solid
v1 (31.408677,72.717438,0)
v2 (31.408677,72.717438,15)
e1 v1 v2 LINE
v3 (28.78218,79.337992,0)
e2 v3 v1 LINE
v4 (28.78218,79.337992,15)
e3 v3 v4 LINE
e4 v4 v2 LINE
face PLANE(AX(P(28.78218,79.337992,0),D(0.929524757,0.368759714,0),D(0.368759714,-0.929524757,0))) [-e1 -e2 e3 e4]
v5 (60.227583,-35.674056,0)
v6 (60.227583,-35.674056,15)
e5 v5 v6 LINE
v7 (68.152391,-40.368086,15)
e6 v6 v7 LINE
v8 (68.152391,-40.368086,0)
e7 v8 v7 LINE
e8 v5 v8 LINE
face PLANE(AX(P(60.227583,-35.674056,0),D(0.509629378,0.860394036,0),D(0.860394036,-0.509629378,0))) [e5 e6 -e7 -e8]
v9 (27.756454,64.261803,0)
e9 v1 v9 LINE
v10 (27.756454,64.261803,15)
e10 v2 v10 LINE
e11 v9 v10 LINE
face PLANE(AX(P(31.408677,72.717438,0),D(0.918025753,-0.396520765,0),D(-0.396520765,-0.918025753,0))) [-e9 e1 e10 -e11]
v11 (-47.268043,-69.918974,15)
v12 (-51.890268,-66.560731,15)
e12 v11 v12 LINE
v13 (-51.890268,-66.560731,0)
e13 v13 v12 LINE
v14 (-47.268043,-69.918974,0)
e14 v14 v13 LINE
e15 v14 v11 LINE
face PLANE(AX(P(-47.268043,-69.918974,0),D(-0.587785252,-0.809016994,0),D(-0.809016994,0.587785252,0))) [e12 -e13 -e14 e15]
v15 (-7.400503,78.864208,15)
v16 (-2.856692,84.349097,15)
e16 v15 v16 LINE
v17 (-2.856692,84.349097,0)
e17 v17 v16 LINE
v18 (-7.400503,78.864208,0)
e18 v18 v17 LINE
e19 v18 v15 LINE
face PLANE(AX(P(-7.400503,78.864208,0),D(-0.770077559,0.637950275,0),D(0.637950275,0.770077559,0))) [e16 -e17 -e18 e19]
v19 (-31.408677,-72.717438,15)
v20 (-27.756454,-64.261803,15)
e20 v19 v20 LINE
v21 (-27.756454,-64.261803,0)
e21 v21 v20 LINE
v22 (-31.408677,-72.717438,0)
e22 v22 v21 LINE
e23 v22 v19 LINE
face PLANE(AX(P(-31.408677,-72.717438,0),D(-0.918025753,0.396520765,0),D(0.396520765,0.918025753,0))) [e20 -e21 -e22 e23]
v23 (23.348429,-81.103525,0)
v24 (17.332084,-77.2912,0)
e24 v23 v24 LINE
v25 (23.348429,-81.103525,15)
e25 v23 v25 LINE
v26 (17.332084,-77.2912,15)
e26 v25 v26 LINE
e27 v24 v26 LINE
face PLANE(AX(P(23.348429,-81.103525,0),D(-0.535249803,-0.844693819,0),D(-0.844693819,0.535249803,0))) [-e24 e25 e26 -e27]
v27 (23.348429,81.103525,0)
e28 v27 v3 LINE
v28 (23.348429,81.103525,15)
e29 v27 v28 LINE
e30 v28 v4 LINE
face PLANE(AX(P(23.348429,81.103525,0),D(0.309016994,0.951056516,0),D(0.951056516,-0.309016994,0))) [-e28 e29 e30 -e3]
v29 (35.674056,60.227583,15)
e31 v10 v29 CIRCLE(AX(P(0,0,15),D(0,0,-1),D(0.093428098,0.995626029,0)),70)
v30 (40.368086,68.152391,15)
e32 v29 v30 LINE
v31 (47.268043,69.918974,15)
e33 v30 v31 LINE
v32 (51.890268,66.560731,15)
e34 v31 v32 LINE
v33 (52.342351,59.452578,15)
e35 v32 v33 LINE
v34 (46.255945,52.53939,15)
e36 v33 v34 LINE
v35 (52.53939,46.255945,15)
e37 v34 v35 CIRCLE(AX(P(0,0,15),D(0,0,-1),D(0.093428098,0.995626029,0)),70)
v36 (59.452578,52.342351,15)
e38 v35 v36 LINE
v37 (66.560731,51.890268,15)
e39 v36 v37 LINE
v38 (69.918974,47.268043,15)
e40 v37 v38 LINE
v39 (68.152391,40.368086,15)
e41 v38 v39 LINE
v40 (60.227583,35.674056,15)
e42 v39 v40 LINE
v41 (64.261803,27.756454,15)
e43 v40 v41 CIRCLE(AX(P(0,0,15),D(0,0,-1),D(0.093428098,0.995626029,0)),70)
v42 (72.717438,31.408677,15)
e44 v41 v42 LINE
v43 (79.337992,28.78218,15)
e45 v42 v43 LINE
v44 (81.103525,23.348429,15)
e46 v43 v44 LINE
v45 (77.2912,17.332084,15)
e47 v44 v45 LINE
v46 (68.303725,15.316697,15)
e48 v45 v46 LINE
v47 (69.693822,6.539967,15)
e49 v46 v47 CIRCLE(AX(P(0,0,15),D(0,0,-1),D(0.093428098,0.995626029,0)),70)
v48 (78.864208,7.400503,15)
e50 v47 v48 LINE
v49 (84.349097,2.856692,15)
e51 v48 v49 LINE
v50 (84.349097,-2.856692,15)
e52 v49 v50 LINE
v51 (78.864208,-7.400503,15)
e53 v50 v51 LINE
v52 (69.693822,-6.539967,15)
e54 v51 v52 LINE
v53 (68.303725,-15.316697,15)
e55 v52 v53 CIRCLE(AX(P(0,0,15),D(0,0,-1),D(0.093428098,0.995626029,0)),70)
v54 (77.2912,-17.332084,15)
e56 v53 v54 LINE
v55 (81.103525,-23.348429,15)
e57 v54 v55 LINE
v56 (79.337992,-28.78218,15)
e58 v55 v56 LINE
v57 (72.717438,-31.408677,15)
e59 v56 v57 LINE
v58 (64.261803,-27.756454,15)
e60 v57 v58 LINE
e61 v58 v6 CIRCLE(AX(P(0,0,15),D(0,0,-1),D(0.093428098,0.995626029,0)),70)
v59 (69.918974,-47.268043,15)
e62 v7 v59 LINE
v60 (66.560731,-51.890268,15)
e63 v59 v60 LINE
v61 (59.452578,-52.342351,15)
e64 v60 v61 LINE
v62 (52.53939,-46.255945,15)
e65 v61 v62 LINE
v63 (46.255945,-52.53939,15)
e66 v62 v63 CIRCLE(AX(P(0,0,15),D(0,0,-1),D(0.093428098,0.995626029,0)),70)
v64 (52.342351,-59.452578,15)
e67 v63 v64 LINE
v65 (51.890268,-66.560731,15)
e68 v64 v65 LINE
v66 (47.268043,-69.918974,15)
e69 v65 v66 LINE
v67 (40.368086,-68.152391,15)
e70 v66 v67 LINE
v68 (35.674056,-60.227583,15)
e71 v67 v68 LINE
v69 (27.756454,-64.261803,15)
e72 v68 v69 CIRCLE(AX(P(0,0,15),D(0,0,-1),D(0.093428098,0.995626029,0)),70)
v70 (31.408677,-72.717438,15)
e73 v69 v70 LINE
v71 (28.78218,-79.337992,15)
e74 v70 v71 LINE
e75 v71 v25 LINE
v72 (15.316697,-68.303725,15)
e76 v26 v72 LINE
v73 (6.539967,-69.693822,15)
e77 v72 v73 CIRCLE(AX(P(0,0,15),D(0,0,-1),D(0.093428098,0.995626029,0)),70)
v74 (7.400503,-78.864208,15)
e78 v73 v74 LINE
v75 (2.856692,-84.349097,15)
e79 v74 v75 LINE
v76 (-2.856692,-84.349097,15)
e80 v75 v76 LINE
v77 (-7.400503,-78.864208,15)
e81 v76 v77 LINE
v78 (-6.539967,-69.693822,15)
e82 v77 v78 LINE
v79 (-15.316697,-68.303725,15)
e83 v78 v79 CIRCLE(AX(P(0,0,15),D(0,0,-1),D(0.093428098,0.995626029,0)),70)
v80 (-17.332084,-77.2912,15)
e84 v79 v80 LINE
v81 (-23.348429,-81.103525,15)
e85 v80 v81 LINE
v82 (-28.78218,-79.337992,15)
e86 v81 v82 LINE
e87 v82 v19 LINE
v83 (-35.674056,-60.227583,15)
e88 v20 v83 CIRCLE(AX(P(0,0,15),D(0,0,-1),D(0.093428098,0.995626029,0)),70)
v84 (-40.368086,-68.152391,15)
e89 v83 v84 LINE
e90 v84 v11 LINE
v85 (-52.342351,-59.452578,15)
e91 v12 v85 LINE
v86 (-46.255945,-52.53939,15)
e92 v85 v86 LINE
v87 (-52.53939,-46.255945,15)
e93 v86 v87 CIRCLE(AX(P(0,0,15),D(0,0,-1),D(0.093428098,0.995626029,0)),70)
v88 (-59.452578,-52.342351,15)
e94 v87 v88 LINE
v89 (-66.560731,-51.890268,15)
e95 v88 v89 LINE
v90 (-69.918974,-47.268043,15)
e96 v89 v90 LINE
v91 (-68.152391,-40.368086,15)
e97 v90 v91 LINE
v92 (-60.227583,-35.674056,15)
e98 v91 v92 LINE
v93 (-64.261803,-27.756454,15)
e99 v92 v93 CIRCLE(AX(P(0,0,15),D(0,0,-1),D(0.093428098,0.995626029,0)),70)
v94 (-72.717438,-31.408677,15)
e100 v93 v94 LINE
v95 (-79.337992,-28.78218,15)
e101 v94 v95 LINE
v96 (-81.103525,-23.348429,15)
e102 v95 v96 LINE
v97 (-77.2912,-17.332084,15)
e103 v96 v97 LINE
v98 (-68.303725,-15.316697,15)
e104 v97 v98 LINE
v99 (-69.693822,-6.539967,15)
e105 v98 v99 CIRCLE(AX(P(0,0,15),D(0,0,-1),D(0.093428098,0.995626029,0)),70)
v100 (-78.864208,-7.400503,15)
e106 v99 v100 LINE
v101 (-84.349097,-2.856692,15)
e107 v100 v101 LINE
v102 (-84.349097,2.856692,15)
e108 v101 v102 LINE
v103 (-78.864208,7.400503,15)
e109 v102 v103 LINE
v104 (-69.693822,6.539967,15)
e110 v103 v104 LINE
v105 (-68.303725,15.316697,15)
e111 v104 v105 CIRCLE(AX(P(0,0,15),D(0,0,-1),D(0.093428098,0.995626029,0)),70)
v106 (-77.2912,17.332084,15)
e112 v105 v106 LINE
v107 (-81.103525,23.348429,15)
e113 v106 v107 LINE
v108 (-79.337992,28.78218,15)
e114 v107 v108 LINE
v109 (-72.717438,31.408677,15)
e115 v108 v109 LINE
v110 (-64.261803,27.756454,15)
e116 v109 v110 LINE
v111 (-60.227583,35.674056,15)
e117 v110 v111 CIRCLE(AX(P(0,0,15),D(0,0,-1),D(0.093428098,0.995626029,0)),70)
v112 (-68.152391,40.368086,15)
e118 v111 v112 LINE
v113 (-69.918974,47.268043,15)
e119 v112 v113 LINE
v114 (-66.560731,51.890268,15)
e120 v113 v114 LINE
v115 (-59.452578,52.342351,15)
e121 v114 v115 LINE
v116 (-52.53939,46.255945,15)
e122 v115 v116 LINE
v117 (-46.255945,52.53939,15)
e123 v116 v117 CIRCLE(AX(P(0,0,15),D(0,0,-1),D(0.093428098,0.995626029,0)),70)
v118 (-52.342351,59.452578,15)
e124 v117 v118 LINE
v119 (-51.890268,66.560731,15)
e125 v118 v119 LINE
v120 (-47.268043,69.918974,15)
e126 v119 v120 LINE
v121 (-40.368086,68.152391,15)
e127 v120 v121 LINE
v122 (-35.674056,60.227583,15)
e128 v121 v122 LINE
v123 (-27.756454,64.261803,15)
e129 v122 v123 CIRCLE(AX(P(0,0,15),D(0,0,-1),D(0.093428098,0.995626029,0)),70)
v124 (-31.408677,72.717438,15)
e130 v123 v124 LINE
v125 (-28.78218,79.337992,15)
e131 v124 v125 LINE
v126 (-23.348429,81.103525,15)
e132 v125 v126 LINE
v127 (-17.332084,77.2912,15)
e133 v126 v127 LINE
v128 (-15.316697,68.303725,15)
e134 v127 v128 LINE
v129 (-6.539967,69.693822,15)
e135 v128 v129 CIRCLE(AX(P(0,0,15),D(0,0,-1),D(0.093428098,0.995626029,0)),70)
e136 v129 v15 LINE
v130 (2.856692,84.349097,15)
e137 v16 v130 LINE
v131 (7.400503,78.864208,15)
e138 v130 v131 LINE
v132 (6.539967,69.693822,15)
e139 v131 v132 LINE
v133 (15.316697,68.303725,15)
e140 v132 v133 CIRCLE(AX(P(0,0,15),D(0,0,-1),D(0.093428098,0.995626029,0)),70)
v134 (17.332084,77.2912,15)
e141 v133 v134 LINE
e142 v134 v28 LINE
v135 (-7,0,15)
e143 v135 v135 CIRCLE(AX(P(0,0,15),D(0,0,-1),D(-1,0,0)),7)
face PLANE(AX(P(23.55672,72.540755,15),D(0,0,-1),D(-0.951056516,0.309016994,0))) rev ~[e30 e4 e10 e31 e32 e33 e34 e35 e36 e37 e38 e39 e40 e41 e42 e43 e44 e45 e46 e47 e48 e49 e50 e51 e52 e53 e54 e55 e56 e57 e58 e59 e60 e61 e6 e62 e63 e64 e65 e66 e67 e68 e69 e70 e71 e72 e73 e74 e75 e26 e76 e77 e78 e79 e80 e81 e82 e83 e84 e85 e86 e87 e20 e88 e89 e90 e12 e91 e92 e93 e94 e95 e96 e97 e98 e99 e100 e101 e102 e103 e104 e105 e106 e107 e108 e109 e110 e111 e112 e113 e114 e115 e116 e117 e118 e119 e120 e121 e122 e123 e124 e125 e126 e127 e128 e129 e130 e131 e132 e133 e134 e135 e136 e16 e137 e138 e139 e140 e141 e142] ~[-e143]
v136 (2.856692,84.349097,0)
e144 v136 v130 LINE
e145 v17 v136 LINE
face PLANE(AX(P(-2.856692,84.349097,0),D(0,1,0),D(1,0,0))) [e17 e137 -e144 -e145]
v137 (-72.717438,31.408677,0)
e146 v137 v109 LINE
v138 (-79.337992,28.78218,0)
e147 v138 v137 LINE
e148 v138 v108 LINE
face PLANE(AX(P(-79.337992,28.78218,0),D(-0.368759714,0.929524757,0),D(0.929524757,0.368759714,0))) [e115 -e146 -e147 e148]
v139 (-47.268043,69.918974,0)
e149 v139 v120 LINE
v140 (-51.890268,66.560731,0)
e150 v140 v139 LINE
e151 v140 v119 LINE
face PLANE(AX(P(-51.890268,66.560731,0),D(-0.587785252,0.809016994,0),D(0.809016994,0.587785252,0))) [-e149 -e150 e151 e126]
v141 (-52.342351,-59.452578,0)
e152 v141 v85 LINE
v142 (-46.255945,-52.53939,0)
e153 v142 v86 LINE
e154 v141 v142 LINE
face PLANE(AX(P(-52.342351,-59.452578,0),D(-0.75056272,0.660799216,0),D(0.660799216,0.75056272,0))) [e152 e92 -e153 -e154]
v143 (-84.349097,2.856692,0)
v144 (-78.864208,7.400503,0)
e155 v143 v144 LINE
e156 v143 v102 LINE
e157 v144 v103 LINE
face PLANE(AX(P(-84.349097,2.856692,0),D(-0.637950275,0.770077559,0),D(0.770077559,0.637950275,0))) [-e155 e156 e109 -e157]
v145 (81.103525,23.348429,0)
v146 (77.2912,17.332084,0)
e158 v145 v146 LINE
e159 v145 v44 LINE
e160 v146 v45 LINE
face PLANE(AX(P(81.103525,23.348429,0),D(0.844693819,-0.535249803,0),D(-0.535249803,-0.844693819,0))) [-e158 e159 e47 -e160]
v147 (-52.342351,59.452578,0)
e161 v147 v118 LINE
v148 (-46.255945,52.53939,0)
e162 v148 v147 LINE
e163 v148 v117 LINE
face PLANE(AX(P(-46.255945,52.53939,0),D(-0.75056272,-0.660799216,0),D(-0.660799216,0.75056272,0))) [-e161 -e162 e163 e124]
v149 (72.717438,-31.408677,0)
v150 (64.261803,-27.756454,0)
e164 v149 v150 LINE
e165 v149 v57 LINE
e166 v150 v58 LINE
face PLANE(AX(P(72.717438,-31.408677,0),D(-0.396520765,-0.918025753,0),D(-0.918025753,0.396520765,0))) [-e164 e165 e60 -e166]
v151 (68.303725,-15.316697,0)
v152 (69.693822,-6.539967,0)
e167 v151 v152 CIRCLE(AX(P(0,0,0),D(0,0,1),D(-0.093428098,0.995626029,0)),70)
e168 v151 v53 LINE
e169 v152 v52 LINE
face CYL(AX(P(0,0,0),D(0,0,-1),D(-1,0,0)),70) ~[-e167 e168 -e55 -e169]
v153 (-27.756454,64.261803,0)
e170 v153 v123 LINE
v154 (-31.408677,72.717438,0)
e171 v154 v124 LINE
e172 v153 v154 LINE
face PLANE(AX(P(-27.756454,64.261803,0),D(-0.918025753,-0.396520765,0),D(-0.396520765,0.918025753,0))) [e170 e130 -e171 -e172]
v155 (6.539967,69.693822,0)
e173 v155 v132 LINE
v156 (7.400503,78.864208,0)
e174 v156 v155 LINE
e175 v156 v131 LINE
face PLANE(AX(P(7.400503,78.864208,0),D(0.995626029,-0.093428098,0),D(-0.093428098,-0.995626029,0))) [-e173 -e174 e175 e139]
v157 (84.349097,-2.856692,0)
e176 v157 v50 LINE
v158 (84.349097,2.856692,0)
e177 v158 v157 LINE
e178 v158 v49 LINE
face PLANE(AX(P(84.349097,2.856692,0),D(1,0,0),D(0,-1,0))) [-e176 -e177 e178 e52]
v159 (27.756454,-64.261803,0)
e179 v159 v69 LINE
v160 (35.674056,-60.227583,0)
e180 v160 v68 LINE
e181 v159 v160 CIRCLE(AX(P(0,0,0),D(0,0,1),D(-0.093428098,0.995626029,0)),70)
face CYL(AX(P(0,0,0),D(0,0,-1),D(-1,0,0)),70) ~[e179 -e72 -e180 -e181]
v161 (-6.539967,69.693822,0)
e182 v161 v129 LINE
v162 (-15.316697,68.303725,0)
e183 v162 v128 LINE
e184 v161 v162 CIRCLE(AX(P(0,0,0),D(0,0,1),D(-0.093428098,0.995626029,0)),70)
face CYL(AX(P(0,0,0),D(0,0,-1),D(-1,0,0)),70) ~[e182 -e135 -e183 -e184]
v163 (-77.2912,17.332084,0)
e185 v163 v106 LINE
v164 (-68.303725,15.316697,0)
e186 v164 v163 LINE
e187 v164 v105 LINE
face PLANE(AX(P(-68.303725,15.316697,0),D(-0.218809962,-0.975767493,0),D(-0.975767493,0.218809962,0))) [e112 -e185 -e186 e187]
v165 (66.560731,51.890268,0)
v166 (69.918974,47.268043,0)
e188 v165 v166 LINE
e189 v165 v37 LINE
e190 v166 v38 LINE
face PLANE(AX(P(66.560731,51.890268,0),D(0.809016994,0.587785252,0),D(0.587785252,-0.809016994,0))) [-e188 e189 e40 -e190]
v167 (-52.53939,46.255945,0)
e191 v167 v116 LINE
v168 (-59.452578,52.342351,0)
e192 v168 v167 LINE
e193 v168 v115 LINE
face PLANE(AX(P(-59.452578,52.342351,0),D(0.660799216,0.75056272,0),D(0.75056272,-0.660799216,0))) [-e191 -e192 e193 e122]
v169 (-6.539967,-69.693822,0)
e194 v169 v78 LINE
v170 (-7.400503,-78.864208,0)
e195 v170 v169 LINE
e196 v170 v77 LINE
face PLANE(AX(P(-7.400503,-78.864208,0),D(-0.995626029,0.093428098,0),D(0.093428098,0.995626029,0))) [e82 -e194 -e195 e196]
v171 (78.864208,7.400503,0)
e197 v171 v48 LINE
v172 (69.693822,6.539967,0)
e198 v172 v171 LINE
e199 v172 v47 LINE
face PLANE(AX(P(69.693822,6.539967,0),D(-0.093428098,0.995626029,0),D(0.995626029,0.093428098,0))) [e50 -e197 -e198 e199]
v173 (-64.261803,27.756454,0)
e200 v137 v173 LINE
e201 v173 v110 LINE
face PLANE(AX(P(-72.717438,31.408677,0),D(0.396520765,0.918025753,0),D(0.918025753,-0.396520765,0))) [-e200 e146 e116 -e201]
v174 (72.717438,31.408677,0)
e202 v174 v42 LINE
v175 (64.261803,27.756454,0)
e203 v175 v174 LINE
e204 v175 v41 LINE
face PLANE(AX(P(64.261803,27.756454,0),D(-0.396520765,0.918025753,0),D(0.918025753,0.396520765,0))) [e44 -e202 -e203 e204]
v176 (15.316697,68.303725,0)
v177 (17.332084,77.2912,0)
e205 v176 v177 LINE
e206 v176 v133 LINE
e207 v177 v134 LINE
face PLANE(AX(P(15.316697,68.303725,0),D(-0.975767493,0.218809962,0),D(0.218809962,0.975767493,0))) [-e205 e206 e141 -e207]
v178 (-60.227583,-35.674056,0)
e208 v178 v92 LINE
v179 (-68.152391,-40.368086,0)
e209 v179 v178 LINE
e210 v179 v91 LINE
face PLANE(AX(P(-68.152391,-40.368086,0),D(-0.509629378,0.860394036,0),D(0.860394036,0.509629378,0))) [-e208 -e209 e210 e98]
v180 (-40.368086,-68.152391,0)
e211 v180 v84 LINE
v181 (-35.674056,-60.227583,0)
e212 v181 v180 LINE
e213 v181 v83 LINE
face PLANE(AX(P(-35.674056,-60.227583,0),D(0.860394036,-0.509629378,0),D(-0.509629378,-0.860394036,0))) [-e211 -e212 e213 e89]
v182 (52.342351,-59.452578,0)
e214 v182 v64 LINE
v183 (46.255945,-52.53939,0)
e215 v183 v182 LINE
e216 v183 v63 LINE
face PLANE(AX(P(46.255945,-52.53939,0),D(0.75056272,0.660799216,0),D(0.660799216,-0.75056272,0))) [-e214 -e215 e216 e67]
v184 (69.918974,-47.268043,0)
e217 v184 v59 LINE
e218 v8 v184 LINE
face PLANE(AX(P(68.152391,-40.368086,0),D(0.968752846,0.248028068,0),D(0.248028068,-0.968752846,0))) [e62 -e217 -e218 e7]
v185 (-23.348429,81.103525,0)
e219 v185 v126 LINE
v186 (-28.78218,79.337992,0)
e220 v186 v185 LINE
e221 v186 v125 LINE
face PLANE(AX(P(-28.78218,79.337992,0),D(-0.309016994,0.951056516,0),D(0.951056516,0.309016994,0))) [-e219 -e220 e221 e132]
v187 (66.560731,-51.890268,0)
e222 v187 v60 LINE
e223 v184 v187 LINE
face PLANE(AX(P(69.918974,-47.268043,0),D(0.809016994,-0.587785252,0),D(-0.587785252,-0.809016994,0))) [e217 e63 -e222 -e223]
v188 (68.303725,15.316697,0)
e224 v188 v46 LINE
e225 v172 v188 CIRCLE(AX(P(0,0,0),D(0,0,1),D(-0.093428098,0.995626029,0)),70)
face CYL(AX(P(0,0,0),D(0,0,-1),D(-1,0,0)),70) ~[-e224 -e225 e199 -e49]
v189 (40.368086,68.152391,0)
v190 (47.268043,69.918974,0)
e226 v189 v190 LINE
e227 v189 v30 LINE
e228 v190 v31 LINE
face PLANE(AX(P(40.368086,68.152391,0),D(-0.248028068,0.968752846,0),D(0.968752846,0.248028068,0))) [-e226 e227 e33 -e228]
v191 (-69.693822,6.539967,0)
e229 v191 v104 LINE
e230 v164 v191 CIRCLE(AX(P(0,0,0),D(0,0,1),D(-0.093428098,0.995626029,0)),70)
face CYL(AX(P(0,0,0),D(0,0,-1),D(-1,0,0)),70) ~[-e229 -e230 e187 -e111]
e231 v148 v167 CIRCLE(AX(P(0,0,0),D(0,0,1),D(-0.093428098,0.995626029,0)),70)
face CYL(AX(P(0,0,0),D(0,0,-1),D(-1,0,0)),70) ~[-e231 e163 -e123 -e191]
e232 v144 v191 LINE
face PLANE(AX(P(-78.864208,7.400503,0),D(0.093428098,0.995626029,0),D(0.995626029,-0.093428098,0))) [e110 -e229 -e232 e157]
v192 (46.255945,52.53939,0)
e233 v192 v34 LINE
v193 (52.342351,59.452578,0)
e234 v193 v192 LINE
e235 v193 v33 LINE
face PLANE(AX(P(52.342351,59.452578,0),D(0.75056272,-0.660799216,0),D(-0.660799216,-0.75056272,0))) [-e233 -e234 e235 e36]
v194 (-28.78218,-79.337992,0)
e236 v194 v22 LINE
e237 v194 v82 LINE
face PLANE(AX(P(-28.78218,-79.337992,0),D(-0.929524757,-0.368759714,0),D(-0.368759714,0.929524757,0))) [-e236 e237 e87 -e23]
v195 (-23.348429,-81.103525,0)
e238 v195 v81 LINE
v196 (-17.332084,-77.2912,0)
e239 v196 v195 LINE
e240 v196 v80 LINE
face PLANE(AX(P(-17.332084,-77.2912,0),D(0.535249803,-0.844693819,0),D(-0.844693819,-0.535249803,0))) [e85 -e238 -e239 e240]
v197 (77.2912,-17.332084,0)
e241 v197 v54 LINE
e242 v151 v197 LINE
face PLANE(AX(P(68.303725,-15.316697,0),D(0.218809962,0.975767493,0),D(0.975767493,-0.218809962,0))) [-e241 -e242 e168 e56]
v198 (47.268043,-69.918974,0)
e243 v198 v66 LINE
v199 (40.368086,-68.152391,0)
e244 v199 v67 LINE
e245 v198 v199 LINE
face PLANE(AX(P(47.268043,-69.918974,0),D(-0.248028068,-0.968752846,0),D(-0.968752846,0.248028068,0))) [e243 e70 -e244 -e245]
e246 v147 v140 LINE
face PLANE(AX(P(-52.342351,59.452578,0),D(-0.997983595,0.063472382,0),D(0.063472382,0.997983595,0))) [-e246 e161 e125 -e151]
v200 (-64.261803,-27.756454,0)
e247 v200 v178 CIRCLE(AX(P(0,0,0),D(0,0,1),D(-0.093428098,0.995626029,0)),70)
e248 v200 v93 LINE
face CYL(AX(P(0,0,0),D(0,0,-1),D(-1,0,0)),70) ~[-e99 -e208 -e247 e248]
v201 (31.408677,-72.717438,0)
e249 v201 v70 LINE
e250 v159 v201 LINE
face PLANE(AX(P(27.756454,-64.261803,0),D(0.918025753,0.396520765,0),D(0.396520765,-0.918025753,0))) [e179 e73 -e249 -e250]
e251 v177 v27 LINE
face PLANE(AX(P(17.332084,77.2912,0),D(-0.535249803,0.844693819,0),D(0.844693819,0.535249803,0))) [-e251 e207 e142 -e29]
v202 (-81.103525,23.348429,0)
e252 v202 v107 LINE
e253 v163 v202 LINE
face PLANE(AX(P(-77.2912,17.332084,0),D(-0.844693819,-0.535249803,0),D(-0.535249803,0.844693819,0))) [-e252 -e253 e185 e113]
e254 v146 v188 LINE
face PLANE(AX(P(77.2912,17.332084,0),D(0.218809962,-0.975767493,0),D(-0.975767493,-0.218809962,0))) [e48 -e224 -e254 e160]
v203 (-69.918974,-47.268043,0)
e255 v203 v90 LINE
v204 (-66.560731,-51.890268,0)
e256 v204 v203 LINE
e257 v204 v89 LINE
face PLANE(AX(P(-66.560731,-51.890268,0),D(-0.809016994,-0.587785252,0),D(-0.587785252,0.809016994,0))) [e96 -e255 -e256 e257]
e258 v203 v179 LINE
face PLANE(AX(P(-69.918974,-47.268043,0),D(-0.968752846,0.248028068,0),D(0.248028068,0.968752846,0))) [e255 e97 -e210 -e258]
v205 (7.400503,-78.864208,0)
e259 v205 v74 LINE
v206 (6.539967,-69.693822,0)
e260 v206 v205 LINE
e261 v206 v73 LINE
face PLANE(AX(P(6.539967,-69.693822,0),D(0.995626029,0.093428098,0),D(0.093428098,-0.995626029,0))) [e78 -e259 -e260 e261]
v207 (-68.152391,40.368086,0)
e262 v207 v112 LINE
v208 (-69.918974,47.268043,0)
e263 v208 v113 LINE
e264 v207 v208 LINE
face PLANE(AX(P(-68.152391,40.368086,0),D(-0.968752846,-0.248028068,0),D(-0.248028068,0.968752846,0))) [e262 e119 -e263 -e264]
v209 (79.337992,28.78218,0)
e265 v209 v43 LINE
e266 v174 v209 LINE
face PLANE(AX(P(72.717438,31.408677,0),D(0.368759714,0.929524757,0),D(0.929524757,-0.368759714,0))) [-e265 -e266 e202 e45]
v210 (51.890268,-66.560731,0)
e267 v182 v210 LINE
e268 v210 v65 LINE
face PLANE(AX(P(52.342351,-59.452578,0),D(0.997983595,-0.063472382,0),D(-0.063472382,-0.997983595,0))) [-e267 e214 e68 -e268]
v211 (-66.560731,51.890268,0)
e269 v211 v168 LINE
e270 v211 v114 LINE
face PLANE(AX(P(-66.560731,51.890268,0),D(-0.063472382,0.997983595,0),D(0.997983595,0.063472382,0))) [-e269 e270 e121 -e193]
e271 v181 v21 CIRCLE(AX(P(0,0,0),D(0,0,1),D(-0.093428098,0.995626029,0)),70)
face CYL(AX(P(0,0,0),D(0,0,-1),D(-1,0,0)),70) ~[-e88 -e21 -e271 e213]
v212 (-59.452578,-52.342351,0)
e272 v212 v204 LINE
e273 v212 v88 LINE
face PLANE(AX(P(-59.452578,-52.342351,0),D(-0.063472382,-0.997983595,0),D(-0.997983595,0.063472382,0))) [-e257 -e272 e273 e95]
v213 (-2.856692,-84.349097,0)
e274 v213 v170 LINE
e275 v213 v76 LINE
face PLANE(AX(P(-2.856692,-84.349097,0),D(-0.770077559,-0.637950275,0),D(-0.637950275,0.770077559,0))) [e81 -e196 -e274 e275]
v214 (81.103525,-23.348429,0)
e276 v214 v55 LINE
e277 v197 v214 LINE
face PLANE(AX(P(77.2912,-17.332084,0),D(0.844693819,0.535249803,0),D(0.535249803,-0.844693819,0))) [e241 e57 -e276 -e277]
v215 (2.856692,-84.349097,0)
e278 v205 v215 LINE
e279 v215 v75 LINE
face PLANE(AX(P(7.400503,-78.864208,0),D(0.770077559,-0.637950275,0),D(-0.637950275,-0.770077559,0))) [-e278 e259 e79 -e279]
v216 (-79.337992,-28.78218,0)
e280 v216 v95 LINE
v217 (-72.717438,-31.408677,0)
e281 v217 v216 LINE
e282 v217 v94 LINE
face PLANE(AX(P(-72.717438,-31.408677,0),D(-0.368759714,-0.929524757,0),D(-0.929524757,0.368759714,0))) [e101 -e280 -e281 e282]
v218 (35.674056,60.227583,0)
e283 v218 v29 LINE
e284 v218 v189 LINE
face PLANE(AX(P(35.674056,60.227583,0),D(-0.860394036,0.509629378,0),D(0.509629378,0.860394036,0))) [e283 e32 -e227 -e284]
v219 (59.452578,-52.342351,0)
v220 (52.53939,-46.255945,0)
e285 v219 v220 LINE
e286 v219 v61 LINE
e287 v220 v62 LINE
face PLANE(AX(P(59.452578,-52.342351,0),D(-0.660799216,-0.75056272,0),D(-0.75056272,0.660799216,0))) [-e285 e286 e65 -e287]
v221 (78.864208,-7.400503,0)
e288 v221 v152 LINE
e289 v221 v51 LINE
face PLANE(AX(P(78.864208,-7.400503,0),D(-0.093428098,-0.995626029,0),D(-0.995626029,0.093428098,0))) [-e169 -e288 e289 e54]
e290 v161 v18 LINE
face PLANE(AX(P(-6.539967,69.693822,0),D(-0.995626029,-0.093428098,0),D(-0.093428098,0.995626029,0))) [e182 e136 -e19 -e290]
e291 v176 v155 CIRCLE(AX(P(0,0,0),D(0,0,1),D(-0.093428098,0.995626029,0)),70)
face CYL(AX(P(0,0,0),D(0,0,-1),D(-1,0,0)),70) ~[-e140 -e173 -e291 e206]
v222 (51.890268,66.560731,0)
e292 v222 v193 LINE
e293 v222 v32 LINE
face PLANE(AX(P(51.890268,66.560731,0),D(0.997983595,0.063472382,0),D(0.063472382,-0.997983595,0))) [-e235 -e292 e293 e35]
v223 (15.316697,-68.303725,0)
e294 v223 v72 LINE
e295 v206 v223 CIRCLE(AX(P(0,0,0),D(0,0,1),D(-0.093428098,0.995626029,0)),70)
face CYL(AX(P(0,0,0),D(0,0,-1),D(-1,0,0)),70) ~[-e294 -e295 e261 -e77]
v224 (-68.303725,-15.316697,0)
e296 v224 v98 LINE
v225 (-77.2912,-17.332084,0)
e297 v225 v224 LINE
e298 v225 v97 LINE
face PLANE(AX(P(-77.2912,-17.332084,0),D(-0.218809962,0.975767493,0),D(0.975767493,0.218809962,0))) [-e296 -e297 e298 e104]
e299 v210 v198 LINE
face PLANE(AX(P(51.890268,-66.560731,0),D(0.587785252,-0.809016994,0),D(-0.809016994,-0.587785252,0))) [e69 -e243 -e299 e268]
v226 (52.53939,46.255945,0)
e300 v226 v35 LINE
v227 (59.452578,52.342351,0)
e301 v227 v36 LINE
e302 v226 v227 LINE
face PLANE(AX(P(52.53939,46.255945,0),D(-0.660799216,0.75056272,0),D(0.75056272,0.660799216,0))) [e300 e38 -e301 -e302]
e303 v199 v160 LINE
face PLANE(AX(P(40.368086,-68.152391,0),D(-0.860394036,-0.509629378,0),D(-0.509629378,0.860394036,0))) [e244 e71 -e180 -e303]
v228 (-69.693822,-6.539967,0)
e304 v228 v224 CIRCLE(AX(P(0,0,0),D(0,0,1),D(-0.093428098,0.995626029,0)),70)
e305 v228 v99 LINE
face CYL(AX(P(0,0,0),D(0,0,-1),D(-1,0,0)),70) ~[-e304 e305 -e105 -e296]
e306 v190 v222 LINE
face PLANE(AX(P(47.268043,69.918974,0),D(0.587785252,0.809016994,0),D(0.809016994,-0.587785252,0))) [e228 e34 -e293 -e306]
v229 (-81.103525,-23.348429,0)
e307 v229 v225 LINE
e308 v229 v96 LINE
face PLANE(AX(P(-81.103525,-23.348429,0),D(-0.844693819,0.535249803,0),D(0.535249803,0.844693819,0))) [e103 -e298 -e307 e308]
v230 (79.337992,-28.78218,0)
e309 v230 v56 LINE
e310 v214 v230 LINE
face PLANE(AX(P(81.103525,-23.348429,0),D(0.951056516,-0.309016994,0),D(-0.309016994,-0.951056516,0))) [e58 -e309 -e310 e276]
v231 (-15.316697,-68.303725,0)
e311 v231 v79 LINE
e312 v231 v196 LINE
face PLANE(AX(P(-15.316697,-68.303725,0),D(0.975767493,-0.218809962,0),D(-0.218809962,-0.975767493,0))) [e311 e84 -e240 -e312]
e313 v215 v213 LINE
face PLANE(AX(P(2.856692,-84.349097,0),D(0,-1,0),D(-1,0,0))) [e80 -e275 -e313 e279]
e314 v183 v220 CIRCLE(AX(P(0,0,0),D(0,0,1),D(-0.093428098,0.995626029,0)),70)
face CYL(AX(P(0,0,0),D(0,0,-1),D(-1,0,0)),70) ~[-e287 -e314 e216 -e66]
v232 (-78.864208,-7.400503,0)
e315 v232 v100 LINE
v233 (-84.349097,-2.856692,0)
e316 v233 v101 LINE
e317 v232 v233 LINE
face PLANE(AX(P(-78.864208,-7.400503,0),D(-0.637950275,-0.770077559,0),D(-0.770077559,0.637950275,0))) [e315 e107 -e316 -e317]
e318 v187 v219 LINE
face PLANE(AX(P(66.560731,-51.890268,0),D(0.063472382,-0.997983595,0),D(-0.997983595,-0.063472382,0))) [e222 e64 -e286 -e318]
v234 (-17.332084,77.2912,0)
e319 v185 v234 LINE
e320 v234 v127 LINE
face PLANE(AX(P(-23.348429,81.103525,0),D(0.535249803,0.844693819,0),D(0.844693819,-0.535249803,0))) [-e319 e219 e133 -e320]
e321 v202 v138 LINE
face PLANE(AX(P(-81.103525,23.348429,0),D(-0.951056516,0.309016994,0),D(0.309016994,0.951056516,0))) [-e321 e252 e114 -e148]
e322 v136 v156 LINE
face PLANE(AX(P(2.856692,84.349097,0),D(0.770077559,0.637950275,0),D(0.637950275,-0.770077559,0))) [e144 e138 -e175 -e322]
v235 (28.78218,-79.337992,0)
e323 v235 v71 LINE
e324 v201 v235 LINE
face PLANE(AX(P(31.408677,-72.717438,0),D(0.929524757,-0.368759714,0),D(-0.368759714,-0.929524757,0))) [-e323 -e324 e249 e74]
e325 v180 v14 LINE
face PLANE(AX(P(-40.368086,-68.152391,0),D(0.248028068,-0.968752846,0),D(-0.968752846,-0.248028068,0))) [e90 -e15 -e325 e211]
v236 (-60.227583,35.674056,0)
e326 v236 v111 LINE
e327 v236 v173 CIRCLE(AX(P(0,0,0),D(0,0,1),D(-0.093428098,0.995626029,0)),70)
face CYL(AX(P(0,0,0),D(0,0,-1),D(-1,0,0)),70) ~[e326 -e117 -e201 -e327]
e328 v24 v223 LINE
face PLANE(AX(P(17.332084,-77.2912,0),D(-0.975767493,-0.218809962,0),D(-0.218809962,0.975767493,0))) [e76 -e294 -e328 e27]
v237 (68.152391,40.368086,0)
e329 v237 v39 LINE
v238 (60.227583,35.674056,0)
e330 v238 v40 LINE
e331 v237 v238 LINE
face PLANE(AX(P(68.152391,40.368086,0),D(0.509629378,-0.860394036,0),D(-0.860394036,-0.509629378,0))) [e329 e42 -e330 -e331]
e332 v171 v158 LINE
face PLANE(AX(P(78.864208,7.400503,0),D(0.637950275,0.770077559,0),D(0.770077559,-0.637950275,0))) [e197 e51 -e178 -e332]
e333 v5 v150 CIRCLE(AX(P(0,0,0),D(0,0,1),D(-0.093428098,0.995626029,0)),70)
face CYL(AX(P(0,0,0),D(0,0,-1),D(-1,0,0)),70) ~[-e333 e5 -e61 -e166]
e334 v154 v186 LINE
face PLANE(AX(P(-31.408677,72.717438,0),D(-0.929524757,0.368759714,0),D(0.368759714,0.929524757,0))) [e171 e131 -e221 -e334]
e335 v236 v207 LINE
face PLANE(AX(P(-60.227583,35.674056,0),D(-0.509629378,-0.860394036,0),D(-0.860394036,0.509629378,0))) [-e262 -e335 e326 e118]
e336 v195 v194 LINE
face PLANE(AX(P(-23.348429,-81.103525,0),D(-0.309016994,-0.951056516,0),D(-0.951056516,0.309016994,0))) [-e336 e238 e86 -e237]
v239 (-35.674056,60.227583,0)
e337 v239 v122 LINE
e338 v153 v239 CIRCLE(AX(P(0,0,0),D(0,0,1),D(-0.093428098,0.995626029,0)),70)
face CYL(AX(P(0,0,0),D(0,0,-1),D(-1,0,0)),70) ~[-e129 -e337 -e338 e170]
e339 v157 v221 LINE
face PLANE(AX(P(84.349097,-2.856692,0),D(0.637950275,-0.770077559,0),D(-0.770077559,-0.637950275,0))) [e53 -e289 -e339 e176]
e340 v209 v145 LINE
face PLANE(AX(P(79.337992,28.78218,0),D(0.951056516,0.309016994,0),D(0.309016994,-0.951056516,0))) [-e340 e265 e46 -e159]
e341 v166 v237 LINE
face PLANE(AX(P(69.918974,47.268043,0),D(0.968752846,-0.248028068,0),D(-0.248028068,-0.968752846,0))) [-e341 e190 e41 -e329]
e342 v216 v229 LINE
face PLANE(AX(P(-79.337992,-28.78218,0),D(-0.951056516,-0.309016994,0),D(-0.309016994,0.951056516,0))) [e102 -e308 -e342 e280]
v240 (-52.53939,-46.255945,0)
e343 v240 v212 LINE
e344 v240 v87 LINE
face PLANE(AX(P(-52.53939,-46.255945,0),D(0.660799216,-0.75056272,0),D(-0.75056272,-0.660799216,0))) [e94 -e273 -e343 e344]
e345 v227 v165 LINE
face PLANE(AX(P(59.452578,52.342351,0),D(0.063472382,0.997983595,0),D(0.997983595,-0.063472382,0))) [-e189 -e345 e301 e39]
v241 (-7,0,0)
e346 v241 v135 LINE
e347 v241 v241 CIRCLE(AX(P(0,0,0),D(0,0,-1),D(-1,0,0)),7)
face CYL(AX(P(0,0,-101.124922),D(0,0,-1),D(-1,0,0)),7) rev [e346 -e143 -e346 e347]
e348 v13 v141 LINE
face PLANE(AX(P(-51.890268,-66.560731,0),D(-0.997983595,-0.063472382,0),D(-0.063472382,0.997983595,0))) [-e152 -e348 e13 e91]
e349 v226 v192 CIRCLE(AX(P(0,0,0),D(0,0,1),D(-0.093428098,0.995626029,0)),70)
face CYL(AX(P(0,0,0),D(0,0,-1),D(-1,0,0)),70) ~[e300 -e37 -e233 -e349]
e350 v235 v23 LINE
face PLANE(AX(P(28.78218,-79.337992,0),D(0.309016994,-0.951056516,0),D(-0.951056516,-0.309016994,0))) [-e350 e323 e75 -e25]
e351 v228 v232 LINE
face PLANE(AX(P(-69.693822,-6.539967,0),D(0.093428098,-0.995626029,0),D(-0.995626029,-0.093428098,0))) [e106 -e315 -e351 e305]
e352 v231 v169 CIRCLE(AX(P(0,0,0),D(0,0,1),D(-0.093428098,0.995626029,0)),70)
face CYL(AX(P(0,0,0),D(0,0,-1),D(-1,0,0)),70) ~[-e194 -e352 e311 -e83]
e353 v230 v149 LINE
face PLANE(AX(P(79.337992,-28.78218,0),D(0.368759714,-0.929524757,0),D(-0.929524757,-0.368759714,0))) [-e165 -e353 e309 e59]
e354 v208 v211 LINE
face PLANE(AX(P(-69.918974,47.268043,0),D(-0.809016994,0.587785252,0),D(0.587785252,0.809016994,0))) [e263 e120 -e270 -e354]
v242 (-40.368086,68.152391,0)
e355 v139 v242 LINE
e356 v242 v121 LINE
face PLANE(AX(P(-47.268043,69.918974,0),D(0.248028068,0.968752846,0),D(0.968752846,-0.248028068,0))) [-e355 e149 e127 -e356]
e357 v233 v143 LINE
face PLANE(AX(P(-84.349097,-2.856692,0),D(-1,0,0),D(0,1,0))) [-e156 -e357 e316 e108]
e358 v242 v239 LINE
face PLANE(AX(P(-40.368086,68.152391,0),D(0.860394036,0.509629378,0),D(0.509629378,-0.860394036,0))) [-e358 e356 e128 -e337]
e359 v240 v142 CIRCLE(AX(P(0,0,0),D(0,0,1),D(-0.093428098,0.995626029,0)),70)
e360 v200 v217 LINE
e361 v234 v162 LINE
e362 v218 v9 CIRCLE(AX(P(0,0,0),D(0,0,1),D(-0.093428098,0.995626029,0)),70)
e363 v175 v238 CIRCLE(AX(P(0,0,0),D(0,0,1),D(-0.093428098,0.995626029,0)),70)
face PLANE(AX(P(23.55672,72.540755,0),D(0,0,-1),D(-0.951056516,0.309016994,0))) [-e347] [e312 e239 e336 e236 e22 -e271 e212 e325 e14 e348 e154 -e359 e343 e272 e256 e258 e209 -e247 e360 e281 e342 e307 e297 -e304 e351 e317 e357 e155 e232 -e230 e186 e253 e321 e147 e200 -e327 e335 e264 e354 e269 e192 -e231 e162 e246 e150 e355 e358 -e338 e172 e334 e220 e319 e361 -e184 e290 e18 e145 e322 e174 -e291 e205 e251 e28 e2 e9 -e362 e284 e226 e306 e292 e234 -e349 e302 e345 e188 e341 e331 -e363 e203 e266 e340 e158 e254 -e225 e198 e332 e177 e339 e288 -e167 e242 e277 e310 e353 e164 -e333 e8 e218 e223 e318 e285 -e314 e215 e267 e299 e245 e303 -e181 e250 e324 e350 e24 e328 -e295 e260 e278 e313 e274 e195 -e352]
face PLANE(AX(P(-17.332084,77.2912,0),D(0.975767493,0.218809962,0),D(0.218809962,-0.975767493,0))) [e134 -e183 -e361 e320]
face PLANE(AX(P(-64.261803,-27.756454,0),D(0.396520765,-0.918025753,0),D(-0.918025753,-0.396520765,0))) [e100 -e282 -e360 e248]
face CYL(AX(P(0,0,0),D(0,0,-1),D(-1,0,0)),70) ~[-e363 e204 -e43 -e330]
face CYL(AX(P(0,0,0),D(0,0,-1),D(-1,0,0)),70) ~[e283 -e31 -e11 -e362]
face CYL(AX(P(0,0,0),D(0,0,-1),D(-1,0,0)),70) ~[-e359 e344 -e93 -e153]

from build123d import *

# Parameters (mm, degrees)
SKETCH1_R               = 70
BOSS_EXTRUDE1_DEPTH     = 15
CUT_EXTRUDE5_DEPTH      = 55
CUT_EXTRUDE5_DEPTH_BACK = 101.124921973
SKETCH2_R               = 7
BOSS_EXTRUDE2_DEPTH     = 15
CIRPATTERN2_COUNT       = 20


with BuildPart() as part:
    # Sketch1 → Boss-Extrude1 (new body)
    with BuildSketch(Plane.XY):
        with Locations(Location((0, 0, 0), (0, 0, 180))):
            Circle(SKETCH1_R)
    extrude(amount=BOSS_EXTRUDE1_DEPTH)

    # Sketch2 → Cut-Extrude5 (cut, two sides: drawn at the far end of the back side and taken through both)
    with BuildSketch(Plane.XY.offset(-CUT_EXTRUDE5_DEPTH_BACK)):
        with Locations(Location((0, 0, 0), (0, 0, 180))):
            Circle(SKETCH2_R)
    extrude(amount=CUT_EXTRUDE5_DEPTH + CUT_EXTRUDE5_DEPTH_BACK, mode=Mode.SUBTRACT)

    # Sketch5 → Boss-Extrude2 (add)
    with BuildSketch(Plane.XY):
        Polygon((-6.539966856, 69.693822061), (-7.40050252, 78.864207898), (-2.856692059, 84.349096927), (2.856692059, 84.349096927), (7.40050252, 78.864207898), (6.539966856, 69.693822061), (6.538233044, 69.675345525), (-1.985773494, 69.971827928), (-6.526217216, 69.574369749), align=None)
    boss_extrude2 = extrude(amount=BOSS_EXTRUDE2_DEPTH)

    # CirPattern2: Boss-Extrude2 ×20 about axis
    cirpattern2_axis = Axis((0, 0, 0), (0, 0, 1))
    for i in range(1, CIRPATTERN2_COUNT):
        add(boss_extrude2.rotate(cirpattern2_axis, i * 360 / CIRPATTERN2_COUNT))


solid = part.part
